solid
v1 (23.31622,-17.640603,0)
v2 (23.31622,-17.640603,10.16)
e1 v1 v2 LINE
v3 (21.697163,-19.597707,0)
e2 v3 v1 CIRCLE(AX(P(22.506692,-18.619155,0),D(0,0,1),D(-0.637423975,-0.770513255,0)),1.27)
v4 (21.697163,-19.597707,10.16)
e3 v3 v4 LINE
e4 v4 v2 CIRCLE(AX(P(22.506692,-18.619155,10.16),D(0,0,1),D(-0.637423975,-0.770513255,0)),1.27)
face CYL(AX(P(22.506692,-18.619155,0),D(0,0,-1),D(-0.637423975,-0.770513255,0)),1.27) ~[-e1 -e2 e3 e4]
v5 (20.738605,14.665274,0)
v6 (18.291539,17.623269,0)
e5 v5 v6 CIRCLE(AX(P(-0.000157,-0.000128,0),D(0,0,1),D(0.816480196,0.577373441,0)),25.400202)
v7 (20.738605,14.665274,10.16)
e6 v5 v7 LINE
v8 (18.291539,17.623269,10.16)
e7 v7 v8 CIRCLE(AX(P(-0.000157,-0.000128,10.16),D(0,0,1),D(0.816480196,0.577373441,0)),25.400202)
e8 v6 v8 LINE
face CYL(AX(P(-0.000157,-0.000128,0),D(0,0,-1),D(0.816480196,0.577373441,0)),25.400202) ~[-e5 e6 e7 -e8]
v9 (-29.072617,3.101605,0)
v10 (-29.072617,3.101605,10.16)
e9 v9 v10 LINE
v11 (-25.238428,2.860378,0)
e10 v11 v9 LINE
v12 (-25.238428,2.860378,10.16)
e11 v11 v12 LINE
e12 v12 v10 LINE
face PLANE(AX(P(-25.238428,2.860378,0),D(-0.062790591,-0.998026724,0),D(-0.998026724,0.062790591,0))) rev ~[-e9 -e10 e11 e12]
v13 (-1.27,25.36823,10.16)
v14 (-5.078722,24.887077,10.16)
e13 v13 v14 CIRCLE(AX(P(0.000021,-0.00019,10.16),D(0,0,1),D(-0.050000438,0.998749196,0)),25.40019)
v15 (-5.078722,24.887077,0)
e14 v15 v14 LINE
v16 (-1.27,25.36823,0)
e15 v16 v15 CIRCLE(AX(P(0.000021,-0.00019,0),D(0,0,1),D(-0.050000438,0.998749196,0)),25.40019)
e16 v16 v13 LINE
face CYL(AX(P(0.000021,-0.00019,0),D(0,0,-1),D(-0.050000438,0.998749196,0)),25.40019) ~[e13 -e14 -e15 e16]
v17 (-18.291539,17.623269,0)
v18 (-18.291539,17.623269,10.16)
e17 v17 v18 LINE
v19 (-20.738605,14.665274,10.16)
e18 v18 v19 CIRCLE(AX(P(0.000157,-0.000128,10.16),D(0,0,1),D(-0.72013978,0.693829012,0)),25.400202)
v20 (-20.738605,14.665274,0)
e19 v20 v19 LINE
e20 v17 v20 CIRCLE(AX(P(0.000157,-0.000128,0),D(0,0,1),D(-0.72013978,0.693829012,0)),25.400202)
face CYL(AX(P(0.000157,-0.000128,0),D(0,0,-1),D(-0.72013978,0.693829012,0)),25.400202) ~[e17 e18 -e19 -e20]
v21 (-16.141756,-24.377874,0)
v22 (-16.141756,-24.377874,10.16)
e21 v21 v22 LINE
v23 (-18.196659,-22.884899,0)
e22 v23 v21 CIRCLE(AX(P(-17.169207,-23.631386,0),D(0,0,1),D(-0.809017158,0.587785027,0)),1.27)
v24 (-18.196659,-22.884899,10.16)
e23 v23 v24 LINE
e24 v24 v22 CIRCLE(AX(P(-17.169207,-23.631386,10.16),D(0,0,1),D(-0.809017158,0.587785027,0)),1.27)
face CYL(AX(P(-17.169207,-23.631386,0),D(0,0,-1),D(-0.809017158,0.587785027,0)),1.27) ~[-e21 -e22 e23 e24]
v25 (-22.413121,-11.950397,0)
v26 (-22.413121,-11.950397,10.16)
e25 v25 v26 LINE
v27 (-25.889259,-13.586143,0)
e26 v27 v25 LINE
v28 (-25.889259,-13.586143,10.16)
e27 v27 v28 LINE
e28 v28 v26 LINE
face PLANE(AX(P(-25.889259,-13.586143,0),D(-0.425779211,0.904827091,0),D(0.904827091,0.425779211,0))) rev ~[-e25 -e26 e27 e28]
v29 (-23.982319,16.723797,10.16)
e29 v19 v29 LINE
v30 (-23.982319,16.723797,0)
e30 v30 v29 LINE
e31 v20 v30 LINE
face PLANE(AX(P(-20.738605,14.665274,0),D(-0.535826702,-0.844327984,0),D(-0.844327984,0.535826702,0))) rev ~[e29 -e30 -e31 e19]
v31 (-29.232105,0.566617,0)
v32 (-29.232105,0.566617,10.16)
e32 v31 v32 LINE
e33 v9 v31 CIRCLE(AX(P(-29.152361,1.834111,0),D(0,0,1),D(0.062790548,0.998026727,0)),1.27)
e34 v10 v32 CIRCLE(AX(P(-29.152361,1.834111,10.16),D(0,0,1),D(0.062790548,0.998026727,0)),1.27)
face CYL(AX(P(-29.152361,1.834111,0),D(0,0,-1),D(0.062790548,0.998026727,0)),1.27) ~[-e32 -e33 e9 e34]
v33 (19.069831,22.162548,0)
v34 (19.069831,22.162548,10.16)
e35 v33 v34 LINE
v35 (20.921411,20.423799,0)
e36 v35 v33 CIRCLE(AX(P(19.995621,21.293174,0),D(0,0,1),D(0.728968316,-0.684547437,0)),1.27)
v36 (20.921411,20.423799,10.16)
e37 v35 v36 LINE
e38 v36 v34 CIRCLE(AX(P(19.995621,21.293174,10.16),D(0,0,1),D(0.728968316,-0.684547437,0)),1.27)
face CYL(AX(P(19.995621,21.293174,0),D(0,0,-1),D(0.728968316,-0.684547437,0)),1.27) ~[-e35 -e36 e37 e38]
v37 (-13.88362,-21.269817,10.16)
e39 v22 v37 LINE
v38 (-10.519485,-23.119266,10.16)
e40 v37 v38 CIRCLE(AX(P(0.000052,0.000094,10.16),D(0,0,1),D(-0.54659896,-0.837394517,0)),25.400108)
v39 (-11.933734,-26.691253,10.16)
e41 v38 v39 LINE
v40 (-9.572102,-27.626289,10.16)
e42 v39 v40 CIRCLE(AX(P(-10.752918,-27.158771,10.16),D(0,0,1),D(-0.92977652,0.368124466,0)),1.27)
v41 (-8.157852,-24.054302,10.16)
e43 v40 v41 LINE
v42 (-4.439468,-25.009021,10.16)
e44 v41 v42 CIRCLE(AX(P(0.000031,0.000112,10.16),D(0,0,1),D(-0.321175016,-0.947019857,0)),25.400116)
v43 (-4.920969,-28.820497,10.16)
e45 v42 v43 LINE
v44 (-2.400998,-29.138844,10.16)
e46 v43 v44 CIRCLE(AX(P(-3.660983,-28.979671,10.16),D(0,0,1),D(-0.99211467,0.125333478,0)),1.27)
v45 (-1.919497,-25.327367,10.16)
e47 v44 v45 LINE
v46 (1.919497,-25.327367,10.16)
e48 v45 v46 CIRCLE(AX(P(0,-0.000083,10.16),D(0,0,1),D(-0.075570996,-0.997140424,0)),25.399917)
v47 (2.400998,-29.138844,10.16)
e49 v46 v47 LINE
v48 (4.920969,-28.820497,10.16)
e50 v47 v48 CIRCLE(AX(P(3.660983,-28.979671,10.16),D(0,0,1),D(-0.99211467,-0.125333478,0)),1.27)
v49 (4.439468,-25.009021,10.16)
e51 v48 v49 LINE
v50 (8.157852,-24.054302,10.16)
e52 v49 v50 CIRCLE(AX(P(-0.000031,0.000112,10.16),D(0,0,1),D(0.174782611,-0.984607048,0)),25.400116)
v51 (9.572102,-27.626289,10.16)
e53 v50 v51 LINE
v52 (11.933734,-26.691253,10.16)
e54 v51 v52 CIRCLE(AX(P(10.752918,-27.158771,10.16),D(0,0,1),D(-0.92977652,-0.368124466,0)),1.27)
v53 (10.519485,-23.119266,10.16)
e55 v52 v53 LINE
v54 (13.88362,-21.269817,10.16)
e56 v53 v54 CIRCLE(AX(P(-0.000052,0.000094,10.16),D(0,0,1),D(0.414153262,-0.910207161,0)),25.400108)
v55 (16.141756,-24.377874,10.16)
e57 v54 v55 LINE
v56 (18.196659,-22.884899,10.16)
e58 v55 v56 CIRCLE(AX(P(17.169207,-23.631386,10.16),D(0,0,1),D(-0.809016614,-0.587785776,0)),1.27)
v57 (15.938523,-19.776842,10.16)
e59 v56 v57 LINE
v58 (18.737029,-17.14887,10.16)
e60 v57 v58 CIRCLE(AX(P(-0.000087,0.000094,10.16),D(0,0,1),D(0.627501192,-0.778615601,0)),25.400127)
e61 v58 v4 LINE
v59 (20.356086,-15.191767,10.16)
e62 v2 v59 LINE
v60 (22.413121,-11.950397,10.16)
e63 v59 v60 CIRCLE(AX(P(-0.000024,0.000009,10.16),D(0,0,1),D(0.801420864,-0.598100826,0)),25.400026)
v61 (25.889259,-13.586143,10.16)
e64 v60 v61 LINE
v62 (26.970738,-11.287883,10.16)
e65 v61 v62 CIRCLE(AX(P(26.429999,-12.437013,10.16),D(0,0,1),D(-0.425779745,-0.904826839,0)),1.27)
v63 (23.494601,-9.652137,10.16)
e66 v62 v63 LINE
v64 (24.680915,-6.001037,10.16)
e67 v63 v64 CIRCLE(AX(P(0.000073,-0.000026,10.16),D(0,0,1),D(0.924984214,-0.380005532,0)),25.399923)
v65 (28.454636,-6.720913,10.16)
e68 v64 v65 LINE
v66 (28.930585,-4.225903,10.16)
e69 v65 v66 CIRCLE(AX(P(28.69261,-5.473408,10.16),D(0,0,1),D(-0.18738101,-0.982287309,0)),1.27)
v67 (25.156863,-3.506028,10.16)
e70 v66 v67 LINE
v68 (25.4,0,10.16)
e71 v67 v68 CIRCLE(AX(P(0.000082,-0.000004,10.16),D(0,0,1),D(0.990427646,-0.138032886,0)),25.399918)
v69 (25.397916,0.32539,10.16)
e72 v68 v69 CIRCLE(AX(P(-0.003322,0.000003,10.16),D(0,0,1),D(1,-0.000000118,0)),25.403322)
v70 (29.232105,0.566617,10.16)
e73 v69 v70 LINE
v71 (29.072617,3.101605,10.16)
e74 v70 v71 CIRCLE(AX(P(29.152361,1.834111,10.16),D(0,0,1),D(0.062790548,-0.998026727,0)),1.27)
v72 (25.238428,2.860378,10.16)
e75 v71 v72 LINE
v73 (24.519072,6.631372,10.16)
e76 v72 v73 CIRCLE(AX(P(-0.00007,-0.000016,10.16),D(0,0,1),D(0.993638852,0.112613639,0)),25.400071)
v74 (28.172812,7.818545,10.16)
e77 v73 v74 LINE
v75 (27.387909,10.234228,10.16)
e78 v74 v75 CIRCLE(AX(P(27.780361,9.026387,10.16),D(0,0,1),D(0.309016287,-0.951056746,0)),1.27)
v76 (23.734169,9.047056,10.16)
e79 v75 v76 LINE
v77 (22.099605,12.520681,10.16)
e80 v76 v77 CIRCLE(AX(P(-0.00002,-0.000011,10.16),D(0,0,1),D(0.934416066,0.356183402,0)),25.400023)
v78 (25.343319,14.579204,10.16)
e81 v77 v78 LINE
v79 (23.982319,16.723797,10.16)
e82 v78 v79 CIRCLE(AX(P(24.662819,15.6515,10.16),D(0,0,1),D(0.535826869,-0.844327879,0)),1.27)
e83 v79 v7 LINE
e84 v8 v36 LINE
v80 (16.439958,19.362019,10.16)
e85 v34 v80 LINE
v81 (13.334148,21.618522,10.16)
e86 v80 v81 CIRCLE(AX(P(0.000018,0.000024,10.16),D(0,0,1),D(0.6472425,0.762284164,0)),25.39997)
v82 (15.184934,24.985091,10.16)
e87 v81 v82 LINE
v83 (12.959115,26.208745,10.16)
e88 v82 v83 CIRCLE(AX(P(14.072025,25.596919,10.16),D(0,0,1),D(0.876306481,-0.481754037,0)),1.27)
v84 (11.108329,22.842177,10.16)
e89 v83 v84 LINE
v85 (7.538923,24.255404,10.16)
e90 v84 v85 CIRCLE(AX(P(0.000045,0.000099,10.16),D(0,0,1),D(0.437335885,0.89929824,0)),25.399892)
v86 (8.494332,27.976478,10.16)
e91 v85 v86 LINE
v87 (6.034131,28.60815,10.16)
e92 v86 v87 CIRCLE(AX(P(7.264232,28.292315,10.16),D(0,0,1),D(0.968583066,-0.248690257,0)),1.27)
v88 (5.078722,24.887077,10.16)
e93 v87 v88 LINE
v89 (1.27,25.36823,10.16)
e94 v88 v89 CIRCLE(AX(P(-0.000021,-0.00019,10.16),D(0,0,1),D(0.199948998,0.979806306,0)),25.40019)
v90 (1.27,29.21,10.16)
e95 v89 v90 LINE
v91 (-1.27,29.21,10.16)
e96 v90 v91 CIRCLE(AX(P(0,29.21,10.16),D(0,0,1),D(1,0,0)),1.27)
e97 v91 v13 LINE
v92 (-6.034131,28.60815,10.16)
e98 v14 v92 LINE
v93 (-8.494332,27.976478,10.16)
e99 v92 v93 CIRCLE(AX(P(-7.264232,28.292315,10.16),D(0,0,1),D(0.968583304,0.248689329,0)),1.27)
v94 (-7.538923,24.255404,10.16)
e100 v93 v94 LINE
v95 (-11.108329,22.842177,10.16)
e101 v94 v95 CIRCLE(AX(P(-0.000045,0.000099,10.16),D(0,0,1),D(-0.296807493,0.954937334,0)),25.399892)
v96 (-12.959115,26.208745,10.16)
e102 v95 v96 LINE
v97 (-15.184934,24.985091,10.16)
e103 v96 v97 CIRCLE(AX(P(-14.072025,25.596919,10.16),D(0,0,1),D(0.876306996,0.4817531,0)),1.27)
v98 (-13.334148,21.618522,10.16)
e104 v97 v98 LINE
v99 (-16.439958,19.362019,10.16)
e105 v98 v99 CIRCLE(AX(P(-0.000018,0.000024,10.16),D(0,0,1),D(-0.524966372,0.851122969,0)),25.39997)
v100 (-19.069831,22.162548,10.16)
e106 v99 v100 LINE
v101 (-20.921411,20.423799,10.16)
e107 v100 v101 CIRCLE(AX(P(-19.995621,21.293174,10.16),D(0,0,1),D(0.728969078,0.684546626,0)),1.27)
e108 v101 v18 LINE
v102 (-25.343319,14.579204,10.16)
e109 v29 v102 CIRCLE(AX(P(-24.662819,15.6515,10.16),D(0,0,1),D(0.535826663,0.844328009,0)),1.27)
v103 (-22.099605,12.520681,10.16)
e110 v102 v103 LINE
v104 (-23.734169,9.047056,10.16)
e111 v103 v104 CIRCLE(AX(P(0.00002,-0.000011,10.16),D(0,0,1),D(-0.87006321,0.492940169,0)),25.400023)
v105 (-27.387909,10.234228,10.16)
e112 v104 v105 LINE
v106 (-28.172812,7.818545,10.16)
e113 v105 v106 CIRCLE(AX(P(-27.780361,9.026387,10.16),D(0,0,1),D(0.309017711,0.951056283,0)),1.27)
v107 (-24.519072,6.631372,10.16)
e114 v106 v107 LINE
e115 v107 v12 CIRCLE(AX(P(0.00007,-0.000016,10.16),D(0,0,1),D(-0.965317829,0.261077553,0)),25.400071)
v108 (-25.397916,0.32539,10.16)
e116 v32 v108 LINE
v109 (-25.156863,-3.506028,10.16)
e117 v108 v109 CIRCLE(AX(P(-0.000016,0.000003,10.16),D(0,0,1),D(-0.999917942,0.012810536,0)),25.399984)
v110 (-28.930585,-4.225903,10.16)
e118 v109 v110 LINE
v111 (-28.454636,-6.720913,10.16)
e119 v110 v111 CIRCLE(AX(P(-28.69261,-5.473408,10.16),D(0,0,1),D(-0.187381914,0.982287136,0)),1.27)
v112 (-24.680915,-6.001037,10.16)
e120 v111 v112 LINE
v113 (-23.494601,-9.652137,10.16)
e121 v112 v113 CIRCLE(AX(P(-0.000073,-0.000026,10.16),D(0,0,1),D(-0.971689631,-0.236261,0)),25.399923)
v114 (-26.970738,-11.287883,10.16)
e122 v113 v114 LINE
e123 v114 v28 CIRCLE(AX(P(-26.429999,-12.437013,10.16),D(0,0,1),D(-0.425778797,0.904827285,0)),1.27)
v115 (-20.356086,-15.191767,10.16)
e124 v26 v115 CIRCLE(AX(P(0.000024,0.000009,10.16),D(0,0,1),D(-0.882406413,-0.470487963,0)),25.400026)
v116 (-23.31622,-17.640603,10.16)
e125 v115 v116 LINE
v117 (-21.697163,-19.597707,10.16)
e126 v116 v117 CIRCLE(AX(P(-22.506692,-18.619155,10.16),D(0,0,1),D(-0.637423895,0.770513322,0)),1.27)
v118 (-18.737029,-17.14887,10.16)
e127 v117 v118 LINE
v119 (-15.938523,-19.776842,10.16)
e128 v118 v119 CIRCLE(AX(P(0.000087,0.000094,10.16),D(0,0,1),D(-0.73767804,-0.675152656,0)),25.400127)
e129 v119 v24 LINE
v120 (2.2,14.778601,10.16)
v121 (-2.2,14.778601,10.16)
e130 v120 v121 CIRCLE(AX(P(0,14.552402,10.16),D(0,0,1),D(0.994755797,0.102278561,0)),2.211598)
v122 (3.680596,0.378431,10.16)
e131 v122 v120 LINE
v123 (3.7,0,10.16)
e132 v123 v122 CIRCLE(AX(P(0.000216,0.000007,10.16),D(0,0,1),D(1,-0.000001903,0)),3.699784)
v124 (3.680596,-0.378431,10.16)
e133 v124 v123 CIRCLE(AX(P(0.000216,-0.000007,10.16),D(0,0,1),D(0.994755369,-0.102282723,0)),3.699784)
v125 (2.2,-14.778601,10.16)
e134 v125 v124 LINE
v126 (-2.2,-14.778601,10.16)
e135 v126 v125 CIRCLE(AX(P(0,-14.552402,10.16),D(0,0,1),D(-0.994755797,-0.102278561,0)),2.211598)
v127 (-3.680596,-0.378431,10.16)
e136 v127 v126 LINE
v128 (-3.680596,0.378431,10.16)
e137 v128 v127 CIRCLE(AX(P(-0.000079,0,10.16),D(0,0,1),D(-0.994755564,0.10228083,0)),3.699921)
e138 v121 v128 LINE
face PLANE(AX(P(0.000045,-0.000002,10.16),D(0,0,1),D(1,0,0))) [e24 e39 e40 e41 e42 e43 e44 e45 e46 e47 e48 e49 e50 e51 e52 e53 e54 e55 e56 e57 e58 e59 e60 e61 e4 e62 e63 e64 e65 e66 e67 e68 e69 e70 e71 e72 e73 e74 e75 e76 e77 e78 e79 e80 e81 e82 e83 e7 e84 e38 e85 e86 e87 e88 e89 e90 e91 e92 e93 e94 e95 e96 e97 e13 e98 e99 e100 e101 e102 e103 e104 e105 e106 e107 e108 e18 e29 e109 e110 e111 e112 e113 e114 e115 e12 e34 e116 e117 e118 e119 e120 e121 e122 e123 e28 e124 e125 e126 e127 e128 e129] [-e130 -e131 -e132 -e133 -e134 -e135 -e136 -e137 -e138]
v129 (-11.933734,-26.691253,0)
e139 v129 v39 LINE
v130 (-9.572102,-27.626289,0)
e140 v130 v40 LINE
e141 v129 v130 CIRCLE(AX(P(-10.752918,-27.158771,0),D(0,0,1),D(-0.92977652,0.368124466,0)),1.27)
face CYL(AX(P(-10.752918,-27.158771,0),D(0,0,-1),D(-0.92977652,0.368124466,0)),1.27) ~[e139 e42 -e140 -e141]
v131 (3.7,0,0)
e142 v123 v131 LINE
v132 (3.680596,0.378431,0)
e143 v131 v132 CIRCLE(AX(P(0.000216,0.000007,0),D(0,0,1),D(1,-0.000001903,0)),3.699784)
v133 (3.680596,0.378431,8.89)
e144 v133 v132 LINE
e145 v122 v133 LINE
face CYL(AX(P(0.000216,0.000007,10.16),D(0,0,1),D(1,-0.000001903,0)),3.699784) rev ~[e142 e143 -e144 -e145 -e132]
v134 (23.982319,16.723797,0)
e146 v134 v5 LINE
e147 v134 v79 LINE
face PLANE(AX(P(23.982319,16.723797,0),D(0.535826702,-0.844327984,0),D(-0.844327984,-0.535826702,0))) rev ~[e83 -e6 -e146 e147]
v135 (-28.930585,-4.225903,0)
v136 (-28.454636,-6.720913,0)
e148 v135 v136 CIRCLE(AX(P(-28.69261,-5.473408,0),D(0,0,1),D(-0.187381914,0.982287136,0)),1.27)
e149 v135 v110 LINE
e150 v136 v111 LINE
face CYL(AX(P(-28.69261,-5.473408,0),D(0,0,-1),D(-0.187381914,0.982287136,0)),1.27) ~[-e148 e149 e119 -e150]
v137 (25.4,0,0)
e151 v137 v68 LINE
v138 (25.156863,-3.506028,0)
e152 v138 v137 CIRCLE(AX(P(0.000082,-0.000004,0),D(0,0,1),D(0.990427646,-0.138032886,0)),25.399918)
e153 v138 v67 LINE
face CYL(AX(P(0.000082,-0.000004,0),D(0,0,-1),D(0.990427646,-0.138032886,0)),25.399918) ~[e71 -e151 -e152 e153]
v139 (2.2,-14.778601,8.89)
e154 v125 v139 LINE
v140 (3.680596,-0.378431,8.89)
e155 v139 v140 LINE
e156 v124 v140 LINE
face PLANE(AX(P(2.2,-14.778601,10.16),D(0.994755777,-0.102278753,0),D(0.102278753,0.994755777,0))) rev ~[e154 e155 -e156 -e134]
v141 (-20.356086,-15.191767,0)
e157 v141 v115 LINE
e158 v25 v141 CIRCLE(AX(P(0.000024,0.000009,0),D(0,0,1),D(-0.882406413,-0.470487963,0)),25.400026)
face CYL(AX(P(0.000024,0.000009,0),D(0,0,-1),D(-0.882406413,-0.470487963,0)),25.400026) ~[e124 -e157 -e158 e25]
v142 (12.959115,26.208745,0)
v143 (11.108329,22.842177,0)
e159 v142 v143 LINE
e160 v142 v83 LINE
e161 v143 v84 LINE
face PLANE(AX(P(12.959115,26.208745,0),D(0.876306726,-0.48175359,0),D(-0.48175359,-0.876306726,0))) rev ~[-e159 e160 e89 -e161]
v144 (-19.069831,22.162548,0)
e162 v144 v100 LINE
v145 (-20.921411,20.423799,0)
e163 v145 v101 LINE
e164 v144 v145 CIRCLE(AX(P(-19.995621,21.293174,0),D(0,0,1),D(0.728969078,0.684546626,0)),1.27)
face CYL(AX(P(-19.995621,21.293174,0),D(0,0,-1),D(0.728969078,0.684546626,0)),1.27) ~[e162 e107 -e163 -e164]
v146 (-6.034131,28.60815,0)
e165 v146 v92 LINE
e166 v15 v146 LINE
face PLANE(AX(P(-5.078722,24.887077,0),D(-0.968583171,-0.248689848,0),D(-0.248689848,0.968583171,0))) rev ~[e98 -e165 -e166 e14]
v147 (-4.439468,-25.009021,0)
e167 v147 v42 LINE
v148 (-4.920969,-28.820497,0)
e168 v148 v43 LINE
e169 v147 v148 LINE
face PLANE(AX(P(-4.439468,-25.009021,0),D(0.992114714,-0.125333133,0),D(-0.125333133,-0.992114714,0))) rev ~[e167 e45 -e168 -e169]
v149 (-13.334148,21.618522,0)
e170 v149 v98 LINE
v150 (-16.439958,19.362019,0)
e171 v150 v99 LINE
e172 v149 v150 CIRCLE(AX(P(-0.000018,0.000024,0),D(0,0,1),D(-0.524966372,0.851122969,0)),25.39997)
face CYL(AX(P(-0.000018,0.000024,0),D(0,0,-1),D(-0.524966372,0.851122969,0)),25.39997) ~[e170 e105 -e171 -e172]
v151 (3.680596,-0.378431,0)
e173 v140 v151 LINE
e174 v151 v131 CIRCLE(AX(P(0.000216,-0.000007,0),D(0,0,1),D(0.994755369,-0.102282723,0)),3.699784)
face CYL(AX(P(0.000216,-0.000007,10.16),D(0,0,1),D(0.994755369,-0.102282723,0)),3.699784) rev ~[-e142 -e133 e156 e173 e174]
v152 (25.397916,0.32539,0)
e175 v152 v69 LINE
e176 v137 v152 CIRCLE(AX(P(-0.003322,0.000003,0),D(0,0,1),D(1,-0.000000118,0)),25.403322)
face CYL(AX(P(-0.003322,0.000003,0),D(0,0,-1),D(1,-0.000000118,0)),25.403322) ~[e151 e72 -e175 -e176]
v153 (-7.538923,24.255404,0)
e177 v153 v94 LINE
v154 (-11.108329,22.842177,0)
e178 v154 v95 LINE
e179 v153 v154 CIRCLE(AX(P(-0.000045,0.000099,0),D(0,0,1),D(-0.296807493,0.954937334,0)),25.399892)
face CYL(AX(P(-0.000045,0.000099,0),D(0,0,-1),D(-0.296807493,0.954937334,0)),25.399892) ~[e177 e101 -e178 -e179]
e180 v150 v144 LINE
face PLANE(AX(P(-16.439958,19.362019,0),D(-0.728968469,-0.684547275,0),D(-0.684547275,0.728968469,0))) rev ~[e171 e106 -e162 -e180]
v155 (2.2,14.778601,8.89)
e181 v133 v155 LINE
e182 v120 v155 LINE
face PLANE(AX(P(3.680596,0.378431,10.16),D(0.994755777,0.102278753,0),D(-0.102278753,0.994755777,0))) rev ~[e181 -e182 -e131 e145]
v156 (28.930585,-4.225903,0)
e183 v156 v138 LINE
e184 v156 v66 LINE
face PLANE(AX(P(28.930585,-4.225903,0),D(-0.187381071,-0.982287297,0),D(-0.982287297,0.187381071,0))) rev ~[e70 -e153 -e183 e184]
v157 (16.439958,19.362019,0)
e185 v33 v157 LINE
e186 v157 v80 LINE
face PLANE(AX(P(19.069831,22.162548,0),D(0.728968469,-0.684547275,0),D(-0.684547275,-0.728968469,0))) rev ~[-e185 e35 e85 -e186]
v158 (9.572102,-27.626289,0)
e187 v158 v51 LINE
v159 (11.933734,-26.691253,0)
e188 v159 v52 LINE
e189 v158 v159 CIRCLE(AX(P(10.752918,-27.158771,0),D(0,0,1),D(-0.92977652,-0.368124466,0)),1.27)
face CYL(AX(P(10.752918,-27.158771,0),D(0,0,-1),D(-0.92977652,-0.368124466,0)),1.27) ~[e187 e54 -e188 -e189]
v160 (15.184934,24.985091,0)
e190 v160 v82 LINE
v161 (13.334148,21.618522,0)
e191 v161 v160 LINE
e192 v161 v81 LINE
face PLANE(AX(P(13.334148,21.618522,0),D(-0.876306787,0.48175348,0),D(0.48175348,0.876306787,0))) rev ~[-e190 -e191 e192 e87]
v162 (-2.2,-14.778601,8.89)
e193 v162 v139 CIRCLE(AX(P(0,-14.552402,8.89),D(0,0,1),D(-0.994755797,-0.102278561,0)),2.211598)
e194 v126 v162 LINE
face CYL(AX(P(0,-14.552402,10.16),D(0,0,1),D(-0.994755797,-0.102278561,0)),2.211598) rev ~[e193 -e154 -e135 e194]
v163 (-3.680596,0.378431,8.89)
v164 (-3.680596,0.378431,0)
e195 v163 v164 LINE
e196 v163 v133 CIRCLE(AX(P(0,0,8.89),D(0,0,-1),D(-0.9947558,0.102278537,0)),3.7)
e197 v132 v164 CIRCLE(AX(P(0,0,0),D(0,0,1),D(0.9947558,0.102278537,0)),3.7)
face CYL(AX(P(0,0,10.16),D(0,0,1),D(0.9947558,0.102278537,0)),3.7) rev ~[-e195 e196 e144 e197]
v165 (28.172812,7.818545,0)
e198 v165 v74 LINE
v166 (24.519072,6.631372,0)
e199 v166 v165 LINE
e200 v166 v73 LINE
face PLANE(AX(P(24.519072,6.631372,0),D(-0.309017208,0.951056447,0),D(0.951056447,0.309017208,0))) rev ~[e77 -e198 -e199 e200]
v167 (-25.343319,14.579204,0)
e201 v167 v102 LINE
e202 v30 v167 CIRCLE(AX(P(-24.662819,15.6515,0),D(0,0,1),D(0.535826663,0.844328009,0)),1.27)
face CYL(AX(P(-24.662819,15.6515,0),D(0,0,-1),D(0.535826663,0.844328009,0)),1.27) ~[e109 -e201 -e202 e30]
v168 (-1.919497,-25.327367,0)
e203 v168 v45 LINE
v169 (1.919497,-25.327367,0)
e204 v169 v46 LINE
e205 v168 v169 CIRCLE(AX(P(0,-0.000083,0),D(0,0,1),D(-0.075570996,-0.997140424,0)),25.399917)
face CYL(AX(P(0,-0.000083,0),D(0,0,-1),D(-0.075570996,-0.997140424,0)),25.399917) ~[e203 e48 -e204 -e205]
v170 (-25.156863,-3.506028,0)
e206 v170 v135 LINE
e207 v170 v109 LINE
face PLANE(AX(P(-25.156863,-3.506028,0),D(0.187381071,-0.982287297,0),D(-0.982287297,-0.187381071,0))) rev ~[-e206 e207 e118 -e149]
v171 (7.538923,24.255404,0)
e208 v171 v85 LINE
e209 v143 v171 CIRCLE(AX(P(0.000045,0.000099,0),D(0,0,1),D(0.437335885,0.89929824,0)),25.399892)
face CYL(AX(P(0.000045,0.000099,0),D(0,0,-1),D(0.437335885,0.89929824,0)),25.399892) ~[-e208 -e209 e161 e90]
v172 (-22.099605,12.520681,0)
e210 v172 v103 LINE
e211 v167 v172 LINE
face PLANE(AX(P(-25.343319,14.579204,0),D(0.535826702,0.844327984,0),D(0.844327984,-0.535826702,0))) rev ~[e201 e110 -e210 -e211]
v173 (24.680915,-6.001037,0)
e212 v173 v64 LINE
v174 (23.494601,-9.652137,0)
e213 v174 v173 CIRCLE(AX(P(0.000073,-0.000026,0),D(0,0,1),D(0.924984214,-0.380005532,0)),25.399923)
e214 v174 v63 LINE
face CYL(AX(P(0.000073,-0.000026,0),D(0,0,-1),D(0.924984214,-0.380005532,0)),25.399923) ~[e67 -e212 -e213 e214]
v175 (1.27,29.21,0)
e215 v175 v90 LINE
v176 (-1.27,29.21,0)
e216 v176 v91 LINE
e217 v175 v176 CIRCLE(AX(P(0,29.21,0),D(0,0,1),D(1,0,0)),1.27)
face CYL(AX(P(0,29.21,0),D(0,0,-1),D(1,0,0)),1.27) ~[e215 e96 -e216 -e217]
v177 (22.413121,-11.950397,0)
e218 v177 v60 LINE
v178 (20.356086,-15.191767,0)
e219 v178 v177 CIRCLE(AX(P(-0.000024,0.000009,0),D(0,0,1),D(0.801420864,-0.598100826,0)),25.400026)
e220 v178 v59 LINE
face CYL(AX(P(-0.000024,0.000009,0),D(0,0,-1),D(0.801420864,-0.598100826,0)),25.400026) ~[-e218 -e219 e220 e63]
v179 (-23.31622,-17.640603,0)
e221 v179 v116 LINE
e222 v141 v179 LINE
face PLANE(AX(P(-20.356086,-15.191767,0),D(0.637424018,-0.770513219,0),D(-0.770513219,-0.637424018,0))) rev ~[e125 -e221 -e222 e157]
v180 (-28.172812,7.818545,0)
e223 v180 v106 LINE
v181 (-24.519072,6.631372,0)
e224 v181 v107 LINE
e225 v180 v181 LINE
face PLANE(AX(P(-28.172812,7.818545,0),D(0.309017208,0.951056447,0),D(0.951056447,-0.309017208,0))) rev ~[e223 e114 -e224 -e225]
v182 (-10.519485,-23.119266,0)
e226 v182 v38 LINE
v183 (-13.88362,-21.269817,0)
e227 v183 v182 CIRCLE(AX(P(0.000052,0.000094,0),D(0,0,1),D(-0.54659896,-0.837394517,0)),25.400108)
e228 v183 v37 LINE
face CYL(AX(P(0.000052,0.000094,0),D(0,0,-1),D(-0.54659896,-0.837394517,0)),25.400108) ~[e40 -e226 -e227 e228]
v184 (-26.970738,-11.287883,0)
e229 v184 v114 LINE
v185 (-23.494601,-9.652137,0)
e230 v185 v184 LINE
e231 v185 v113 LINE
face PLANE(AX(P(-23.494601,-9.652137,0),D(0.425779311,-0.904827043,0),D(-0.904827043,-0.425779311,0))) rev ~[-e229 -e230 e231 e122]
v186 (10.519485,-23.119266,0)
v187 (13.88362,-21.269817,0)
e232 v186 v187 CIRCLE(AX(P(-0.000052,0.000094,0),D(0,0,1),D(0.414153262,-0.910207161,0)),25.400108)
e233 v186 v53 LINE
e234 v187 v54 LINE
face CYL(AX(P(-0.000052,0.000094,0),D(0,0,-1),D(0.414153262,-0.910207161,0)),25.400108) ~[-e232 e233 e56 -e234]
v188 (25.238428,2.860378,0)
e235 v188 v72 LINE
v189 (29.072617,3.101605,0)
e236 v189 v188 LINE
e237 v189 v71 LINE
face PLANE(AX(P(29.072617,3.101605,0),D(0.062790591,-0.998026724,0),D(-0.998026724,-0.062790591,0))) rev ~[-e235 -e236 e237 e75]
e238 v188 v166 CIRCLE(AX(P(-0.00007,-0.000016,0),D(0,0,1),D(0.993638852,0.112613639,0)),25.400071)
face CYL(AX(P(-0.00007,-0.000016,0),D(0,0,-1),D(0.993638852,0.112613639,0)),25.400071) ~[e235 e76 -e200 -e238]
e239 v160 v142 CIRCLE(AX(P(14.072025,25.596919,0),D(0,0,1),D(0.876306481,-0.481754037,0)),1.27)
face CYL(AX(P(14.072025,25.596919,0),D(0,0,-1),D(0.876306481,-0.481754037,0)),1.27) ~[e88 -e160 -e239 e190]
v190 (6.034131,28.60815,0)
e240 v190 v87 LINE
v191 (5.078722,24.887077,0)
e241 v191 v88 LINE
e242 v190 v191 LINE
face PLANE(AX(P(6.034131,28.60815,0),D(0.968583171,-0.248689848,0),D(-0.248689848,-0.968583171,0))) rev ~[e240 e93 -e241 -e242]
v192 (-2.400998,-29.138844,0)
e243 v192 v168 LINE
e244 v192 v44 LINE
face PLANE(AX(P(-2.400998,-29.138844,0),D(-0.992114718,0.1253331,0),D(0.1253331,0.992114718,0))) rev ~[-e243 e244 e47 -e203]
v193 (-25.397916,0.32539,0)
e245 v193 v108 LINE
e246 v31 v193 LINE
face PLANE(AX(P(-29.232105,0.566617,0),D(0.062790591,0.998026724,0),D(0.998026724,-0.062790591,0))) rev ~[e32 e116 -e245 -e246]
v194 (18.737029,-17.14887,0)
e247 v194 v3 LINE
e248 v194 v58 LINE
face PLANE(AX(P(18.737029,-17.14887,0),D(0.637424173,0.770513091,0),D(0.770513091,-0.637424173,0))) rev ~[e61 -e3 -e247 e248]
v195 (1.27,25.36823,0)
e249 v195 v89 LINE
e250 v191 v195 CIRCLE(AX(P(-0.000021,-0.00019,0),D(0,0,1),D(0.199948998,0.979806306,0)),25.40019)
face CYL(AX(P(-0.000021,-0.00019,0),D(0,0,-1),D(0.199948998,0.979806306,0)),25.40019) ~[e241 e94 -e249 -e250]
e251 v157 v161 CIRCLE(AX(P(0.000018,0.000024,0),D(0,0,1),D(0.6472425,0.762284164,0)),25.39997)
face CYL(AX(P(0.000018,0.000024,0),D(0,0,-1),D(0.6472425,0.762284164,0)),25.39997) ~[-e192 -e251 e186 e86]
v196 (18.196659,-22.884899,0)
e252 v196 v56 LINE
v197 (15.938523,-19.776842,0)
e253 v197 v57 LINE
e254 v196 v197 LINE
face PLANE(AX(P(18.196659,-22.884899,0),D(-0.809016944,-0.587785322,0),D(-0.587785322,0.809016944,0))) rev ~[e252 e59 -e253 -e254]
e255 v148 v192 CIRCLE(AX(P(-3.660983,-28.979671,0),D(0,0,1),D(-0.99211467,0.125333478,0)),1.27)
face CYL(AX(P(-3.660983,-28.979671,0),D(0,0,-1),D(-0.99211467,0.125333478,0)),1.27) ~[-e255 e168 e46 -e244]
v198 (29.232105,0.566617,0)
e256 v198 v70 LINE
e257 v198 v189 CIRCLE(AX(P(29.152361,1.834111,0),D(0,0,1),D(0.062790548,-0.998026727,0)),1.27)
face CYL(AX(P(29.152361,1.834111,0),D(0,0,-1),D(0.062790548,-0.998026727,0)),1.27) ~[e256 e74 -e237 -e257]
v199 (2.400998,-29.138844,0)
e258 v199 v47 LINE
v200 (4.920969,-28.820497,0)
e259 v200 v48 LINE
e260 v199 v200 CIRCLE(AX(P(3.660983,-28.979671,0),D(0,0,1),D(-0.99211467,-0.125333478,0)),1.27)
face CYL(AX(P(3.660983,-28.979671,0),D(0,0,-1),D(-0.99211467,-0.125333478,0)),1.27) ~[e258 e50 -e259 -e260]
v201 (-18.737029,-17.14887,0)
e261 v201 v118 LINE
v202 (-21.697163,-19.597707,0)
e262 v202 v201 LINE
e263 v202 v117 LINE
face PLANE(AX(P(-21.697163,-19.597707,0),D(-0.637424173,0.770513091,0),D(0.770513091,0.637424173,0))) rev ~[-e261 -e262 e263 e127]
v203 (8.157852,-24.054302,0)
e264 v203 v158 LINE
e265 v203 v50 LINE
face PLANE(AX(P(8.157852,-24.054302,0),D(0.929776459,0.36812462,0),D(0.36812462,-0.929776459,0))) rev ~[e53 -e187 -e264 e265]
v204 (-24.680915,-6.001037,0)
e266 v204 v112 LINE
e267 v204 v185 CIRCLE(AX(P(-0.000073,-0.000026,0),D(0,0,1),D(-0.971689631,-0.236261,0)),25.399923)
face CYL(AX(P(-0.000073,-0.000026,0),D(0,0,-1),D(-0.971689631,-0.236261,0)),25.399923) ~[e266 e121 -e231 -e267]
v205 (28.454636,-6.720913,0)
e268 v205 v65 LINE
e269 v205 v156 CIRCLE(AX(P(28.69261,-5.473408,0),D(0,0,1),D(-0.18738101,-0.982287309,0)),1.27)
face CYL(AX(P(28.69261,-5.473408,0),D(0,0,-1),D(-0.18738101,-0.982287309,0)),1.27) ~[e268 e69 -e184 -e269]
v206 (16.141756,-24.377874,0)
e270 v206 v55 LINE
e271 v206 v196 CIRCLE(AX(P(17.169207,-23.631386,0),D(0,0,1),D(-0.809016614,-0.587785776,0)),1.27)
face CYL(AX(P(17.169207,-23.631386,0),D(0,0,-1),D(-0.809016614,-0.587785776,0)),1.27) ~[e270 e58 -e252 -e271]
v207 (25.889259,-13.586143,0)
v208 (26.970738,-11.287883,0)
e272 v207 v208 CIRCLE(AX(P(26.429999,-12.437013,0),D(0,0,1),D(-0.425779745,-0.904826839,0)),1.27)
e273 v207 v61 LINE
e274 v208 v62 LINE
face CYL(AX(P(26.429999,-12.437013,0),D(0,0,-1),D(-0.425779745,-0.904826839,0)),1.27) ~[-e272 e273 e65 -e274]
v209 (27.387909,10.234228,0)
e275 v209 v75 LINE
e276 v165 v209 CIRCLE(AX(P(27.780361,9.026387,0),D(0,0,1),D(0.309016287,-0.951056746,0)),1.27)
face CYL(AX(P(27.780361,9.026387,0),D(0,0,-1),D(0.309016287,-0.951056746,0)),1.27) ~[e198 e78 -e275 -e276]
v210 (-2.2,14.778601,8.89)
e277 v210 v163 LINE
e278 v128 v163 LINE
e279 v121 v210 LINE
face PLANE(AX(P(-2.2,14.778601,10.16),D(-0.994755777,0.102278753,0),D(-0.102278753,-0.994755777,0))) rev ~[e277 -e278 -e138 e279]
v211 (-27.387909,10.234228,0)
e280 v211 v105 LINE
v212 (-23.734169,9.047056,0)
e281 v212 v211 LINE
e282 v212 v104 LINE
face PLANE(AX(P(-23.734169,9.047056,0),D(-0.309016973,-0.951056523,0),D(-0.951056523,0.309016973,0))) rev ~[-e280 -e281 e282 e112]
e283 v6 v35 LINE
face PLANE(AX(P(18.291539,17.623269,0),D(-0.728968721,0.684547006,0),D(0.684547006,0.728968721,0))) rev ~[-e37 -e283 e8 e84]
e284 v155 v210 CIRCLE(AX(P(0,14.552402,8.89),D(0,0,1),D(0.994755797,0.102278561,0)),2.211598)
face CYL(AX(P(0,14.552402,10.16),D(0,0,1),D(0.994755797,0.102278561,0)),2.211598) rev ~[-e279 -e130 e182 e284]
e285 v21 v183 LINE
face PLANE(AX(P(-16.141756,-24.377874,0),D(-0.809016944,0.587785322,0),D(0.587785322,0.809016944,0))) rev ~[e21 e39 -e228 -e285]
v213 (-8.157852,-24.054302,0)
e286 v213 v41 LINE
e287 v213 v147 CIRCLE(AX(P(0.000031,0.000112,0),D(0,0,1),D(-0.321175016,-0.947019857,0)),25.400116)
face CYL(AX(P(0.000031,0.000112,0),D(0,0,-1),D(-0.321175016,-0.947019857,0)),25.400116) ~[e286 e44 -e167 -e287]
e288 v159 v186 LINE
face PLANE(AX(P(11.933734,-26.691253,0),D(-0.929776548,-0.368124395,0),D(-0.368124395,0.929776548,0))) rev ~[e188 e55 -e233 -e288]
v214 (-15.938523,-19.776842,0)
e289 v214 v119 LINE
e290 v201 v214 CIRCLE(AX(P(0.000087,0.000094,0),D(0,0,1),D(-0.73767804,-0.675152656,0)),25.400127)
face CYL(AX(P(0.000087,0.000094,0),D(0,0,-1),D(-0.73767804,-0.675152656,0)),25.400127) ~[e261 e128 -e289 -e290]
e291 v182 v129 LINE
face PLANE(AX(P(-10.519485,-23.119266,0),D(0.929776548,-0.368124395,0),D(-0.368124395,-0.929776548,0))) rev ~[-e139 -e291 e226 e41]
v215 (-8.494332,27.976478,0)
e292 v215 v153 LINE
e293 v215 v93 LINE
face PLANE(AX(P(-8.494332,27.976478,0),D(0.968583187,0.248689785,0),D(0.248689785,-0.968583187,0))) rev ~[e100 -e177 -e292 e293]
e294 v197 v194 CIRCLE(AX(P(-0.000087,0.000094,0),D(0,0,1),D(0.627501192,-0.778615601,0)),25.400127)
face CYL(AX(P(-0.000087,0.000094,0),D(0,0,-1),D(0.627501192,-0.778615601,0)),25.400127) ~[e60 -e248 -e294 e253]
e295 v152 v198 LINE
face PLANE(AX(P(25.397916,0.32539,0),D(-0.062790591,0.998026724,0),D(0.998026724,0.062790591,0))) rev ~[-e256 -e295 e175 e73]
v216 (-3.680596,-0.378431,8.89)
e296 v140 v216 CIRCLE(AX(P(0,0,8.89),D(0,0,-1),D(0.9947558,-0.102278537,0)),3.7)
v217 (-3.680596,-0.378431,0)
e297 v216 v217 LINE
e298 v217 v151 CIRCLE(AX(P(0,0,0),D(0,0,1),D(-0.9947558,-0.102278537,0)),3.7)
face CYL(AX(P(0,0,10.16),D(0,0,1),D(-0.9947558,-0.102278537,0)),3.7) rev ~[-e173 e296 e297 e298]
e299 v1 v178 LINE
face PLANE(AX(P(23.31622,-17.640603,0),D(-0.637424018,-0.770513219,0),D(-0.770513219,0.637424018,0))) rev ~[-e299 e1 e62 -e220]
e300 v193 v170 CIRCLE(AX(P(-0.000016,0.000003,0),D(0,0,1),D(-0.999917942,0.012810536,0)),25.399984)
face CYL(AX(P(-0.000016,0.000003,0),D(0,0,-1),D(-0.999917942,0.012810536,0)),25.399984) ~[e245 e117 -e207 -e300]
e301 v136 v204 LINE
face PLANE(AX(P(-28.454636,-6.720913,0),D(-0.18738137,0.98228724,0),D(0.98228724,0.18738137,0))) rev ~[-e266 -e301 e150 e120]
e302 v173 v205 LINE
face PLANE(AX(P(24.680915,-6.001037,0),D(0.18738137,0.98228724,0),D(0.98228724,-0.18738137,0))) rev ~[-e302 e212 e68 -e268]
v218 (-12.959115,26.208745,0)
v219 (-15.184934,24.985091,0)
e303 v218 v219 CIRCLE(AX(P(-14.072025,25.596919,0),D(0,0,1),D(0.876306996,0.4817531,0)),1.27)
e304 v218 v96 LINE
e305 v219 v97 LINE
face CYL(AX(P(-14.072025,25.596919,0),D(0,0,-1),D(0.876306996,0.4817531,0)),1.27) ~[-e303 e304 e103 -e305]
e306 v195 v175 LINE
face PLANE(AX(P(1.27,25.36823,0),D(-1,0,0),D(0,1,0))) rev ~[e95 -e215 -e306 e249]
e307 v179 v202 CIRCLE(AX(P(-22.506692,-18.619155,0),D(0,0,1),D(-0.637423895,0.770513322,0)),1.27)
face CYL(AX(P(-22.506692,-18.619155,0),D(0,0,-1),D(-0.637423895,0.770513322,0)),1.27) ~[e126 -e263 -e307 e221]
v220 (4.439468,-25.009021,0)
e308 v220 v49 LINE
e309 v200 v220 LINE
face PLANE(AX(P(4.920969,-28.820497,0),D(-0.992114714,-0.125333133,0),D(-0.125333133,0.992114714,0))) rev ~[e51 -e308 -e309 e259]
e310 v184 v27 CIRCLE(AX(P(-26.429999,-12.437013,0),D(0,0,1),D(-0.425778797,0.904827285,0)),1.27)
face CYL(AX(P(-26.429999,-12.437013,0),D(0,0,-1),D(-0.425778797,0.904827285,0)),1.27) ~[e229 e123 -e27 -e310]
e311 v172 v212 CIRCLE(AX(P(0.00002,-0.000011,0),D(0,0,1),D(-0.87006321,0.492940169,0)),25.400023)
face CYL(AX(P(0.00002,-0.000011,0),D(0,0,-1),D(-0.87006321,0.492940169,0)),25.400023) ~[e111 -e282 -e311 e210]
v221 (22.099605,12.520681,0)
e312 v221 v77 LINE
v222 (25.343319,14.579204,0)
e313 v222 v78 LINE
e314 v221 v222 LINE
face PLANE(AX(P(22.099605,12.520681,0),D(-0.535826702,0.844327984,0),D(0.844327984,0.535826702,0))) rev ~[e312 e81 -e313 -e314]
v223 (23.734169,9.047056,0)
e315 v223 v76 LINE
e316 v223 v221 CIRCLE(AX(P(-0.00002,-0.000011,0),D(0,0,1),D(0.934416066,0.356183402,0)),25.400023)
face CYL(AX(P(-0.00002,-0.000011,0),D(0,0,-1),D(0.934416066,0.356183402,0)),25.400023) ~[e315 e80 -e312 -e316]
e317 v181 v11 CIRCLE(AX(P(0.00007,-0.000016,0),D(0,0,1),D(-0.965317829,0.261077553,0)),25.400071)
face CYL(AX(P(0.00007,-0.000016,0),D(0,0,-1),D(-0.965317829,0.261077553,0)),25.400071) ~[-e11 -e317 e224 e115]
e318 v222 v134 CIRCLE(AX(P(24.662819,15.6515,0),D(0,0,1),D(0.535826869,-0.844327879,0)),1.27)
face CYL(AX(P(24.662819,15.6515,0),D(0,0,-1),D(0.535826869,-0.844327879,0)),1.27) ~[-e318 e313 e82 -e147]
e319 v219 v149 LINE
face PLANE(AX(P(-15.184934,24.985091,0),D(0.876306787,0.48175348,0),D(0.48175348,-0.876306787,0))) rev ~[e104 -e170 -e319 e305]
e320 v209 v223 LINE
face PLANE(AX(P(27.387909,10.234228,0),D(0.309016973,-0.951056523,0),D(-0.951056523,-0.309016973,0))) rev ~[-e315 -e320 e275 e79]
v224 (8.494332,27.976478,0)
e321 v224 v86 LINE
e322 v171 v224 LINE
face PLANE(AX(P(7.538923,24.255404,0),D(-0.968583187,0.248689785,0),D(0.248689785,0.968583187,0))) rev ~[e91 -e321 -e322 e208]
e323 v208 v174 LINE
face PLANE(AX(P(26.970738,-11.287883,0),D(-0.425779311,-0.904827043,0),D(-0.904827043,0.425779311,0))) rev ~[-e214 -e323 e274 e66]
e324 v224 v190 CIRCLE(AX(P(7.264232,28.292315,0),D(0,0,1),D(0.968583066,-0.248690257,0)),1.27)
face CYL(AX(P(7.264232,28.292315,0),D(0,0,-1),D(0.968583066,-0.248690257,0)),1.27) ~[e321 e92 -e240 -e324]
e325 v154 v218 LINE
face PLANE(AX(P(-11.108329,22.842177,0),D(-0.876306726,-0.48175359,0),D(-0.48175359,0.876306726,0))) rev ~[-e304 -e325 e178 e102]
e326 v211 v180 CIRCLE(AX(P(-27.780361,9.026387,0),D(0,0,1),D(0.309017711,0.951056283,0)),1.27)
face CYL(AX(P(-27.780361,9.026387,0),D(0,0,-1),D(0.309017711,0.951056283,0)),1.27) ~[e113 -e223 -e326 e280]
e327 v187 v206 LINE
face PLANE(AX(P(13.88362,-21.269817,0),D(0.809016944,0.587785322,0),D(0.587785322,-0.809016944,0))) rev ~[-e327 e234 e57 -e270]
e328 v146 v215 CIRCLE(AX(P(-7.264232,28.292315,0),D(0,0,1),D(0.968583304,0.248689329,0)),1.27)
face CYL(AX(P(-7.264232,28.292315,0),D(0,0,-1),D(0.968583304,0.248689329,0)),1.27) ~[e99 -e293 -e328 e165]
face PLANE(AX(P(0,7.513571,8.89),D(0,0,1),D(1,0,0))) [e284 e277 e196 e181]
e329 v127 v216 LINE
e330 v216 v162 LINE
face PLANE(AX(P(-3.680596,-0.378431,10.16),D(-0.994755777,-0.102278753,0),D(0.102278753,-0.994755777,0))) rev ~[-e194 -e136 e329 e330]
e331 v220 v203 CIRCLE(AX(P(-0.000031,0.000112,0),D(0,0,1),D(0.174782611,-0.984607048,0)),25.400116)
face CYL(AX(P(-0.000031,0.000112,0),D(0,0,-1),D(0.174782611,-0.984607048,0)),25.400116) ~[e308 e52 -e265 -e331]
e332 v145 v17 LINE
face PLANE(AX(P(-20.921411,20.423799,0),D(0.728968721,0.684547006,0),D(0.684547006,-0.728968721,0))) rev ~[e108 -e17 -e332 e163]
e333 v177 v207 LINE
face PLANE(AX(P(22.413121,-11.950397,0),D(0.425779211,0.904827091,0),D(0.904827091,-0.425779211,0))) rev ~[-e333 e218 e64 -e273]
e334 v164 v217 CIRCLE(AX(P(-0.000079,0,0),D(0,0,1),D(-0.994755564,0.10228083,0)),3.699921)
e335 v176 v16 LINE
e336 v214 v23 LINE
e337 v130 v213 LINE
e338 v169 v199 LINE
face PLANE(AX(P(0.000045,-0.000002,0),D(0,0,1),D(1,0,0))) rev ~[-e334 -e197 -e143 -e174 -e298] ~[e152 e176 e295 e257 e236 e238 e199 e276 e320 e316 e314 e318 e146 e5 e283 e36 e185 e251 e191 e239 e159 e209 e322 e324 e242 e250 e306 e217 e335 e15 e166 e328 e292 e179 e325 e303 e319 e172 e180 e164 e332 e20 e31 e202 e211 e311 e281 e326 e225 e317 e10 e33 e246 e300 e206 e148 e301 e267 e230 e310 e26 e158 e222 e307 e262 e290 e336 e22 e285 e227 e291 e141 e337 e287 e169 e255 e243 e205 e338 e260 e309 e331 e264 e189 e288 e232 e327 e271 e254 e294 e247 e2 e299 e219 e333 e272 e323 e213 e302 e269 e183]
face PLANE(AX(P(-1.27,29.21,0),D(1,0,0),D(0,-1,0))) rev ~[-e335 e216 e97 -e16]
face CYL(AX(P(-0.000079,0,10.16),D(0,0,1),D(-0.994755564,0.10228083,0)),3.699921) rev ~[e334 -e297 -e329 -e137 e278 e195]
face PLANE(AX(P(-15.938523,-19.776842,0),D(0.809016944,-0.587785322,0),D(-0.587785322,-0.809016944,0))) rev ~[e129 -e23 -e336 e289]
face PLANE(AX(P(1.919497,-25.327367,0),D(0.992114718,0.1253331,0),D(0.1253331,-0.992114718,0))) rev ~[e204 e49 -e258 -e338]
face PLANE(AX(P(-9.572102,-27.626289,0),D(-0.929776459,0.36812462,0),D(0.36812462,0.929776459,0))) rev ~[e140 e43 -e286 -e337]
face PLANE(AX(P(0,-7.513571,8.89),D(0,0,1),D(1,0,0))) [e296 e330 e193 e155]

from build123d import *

# Parameters (mm, degrees)
F1_DEPTH = 10.16
F3_DEPTH = 1.27
F4_DEPTH = 25.4


with BuildPart() as f1:
    # F0 (on Top) → F1 (new body)
    with BuildSketch(Plane.XY):
        with BuildLine():
            ThreePointArc((25.156863, -3.506028), (25.339143, -1.757224), (25.4, 0))
            ThreePointArc((25.4, 0), (25.399479, 0.162699), (25.397916, 0.32539))
            ThreePointArc((25.397916, 0.32539), (25.349879, 1.594879), (25.238428, 2.860378))
            ThreePointArc((25.238428, 2.860378), (24.950096, 4.759485), (24.519072, 6.631372))
            ThreePointArc((24.519072, 6.631372), (24.156836, 7.849032), (23.734169, 9.047056))
            ThreePointArc((23.734169, 9.047056), (22.982607, 10.814794), (22.099605, 12.520681))
            ThreePointArc((22.099605, 12.520681), (21.445929, 13.610001), (20.738605, 14.665274))
            ThreePointArc((20.738605, 14.665274), (19.571036, 16.190569), (18.291539, 17.623269))
            ThreePointArc((18.291539, 17.623269), (17.387496, 18.515803), (16.439958, 19.362019))
            ThreePointArc((16.439958, 19.362019), (14.929745, 20.549032), (13.334148, 21.618522))
            ThreePointArc((13.334148, 21.618522), (12.236543, 22.25819), (11.108329, 22.842177))
            ThreePointArc((11.108329, 22.842177), (9.350364, 23.616323), (7.538923, 24.255404))
            ThreePointArc((7.538923, 24.255404), (6.316723, 24.602012), (5.078722, 24.887077))
            ThreePointArc((5.078722, 24.887077), (3.183464, 25.199713), (1.27, 25.36823))
            ThreePointArc((1.27, 25.36823), (0, 25.4), (-1.27, 25.36823))
            ThreePointArc((-1.27, 25.36823), (-3.183464, 25.199713), (-5.078722, 24.887077))
            ThreePointArc((-5.078722, 24.887077), (-6.316723, 24.602012), (-7.538923, 24.255404))
            ThreePointArc((-7.538923, 24.255404), (-9.350364, 23.616323), (-11.108329, 22.842177))
            ThreePointArc((-11.108329, 22.842177), (-12.236543, 22.25819), (-13.334148, 21.618522))
            ThreePointArc((-13.334148, 21.618522), (-14.929745, 20.549032), (-16.439958, 19.362019))
            ThreePointArc((-16.439958, 19.362019), (-17.387496, 18.515803), (-18.291539, 17.623269))
            ThreePointArc((-18.291539, 17.623269), (-19.571036, 16.190569), (-20.738605, 14.665274))
            ThreePointArc((-20.738605, 14.665274), (-21.445929, 13.610001), (-22.099605, 12.520681))
            ThreePointArc((-22.099605, 12.520681), (-22.982607, 10.814794), (-23.734169, 9.047056))
            ThreePointArc((-23.734169, 9.047056), (-24.156836, 7.849032), (-24.519072, 6.631372))
            ThreePointArc((-24.519072, 6.631372), (-24.950096, 4.759485), (-25.238428, 2.860378))
            ThreePointArc((-25.238428, 2.860378), (-25.349879, 1.594879), (-25.397916, 0.32539))
            ThreePointArc((-25.397916, 0.32539), (-25.349879, -1.594879), (-25.156863, -3.506028))
            ThreePointArc((-25.156863, -3.506028), (-24.950096, -4.759485), (-24.680915, -6.001037))
            ThreePointArc((-24.680915, -6.001037), (-24.156836, -7.849032), (-23.494601, -9.652137))
            ThreePointArc((-23.494601, -9.652137), (-22.982607, -10.814794), (-22.413121, -11.950397))
            ThreePointArc((-22.413121, -11.950397), (-21.445929, -13.610001), (-20.356086, -15.191767))
            ThreePointArc((-20.356086, -15.191767), (-19.571036, -16.190569), (-18.737029, -17.14887))
            ThreePointArc((-18.737029, -17.14887), (-17.387496, -18.515803), (-15.938523, -19.776842))
            ThreePointArc((-15.938523, -19.776842), (-14.929745, -20.549032), (-13.88362, -21.269817))
            ThreePointArc((-13.88362, -21.269817), (-12.236543, -22.25819), (-10.519485, -23.119266))
            ThreePointArc((-10.519485, -23.119266), (-9.350364, -23.616323), (-8.157852, -24.054302))
            ThreePointArc((-8.157852, -24.054302), (-6.316723, -24.602012), (-4.439468, -25.009021))
            ThreePointArc((-4.439468, -25.009021), (-3.183464, -25.199713), (-1.919497, -25.327367))
            ThreePointArc((-1.919497, -25.327367), (0, -25.4), (1.919497, -25.327367))
            ThreePointArc((1.919497, -25.327367), (3.183464, -25.199713), (4.439468, -25.009021))
            ThreePointArc((4.439468, -25.009021), (6.316723, -24.602012), (8.157852, -24.054302))
            ThreePointArc((8.157852, -24.054302), (9.350364, -23.616323), (10.519485, -23.119266))
            ThreePointArc((10.519485, -23.119266), (12.236543, -22.25819), (13.88362, -21.269817))
            ThreePointArc((13.88362, -21.269817), (14.929745, -20.549032), (15.938523, -19.776842))
            ThreePointArc((15.938523, -19.776842), (17.387496, -18.515803), (18.737029, -17.14887))
            ThreePointArc((18.737029, -17.14887), (19.571036, -16.190569), (20.356086, -15.191767))
            ThreePointArc((20.356086, -15.191767), (21.445929, -13.610001), (22.413121, -11.950397))
            ThreePointArc((22.413121, -11.950397), (22.982607, -10.814794), (23.494601, -9.652137))
            ThreePointArc((23.494601, -9.652137), (24.156836, -7.849032), (24.680915, -6.001037))
            ThreePointArc((24.680915, -6.001037), (24.950096, -4.759485), (25.156863, -3.506028))
        make_face()
        with BuildLine():
            ThreePointArc((25.238428, 2.860378), (25.349879, 1.594879), (25.397916, 0.32539))
            Line((25.397916, 0.32539), (29.232105, 0.566617))
            ThreePointArc((29.232105, 0.566617), (30.419855, 1.913855), (29.072617, 3.101605))
            Line((29.072617, 3.101605), (25.238428, 2.860378))
        make_face()
        with BuildLine():
            Line((28.930585, -4.225903), (25.156863, -3.506028))
            ThreePointArc((25.156863, -3.506028), (24.950096, -4.759485), (24.680915, -6.001037))
            Line((24.680915, -6.001037), (28.454636, -6.720913))
            ThreePointArc((28.454636, -6.720913), (29.940115, -5.711382), (28.930585, -4.225903))
        make_face()
        with BuildLine():
            ThreePointArc((23.734169, 9.047056), (24.156836, 7.849032), (24.519072, 6.631372))
            Line((24.519072, 6.631372), (28.172812, 7.818545))
            ThreePointArc((28.172812, 7.818545), (28.988203, 9.418838), (27.387909, 10.234228))
            Line((27.387909, 10.234228), (23.734169, 9.047056))
        make_face()
        with BuildLine():
            Line((26.970738, -11.287883), (23.494601, -9.652137))
            ThreePointArc((23.494601, -9.652137), (22.982607, -10.814794), (22.413121, -11.950397))
            Line((22.413121, -11.950397), (25.889259, -13.586143))
            ThreePointArc((25.889259, -13.586143), (27.579129, -12.977753), (26.970738, -11.287883))
        make_face()
        with BuildLine():
            ThreePointArc((20.738605, 14.665274), (21.445929, 13.610001), (22.099605, 12.520681))
            Line((22.099605, 12.520681), (25.343319, 14.579204))
            ThreePointArc((25.343319, 14.579204), (25.735115, 16.332001), (23.982319, 16.723797))
            Line((23.982319, 16.723797), (20.738605, 14.665274))
        make_face()
        with BuildLine():
            Line((23.31622, -17.640603), (20.356086, -15.191767))
            ThreePointArc((20.356086, -15.191767), (19.571036, -16.190569), (18.737029, -17.14887))
            Line((18.737029, -17.14887), (21.697163, -19.597707))
            ThreePointArc((21.697163, -19.597707), (23.485244, -19.428683), (23.31622, -17.640603))
        make_face()
        with BuildLine():
            ThreePointArc((16.439958, 19.362019), (17.387496, 18.515803), (18.291539, 17.623269))
            Line((18.291539, 17.623269), (20.921411, 20.423799))
            ThreePointArc((20.921411, 20.423799), (20.864996, 22.218964), (19.069831, 22.162548))
            Line((19.069831, 22.162548), (16.439958, 19.362019))
        make_face()
        with BuildLine():
            Line((18.196659, -22.884899), (15.938523, -19.776842))
            ThreePointArc((15.938523, -19.776842), (14.929745, -20.549032), (13.88362, -21.269817))
            Line((13.88362, -21.269817), (16.141756, -24.377874))
            ThreePointArc((16.141756, -24.377874), (17.915694, -24.658838), (18.196659, -22.884899))
        make_face()
        with BuildLine():
            ThreePointArc((11.108329, 22.842177), (12.236543, 22.25819), (13.334148, 21.618522))
            Line((13.334148, 21.618522), (15.184934, 24.985091))
            ThreePointArc((15.184934, 24.985091), (14.683852, 26.709828), (12.959115, 26.208745))
            Line((12.959115, 26.208745), (11.108329, 22.842177))
        make_face()
        with BuildLine():
            Line((11.933734, -26.691253), (10.519485, -23.119266))
            ThreePointArc((10.519485, -23.119266), (9.350364, -23.616323), (8.157852, -24.054302))
            Line((8.157852, -24.054302), (9.572102, -27.626289))
            ThreePointArc((9.572102, -27.626289), (11.220436, -28.339587), (11.933734, -26.691253))
        make_face()
        with BuildLine():
            ThreePointArc((5.078722, 24.887077), (6.316723, 24.602012), (7.538923, 24.255404))
            Line((7.538923, 24.255404), (8.494332, 27.976478))
            ThreePointArc((8.494332, 27.976478), (7.580068, 29.522415), (6.034131, 28.60815))
            Line((6.034131, 28.60815), (5.078722, 24.887077))
        make_face()
        with BuildLine():
            Line((4.920969, -28.820497), (4.439468, -25.009021))
            ThreePointArc((4.439468, -25.009021), (3.183464, -25.199713), (1.919497, -25.327367))
            Line((1.919497, -25.327367), (2.400998, -29.138844))
            ThreePointArc((2.400998, -29.138844), (3.820157, -30.239656), (4.920969, -28.820497))
        make_face()
        with BuildLine():
            ThreePointArc((-1.27, 25.36823), (0, 25.4), (1.27, 25.36823))
            Line((1.27, 25.36823), (1.27, 29.21))
            ThreePointArc((1.27, 29.21), (0, 30.48), (-1.27, 29.21))
            Line((-1.27, 29.21), (-1.27, 25.36823))
        make_face()
        with BuildLine():
            Line((-2.400998, -29.138844), (-1.919497, -25.327367))
            ThreePointArc((-1.919497, -25.327367), (-3.183464, -25.199713), (-4.439468, -25.009021))
            Line((-4.439468, -25.009021), (-4.920969, -28.820497))
            ThreePointArc((-4.920969, -28.820497), (-3.820157, -30.239656), (-2.400998, -29.138844))
        make_face()
        with BuildLine():
            ThreePointArc((-7.538923, 24.255404), (-6.316723, 24.602012), (-5.078722, 24.887077))
            Line((-5.078722, 24.887077), (-6.034131, 28.60815))
            ThreePointArc((-6.034131, 28.60815), (-7.580068, 29.522415), (-8.494332, 27.976478))
            Line((-8.494332, 27.976478), (-7.538923, 24.255404))
        make_face()
        with BuildLine():
            Line((-9.572102, -27.626289), (-8.157852, -24.054302))
            ThreePointArc((-8.157852, -24.054302), (-9.350364, -23.616323), (-10.519485, -23.119266))
            Line((-10.519485, -23.119266), (-11.933734, -26.691253))
            ThreePointArc((-11.933734, -26.691253), (-11.220436, -28.339587), (-9.572102, -27.626289))
        make_face()
        with BuildLine():
            ThreePointArc((-13.334148, 21.618522), (-12.236543, 22.25819), (-11.108329, 22.842177))
            Line((-11.108329, 22.842177), (-12.959115, 26.208745))
            ThreePointArc((-12.959115, 26.208745), (-14.683852, 26.709828), (-15.184934, 24.985091))
            Line((-15.184934, 24.985091), (-13.334148, 21.618522))
        make_face()
        with BuildLine():
            Line((-16.141756, -24.377874), (-13.88362, -21.269817))
            ThreePointArc((-13.88362, -21.269817), (-14.929745, -20.549032), (-15.938523, -19.776842))
            Line((-15.938523, -19.776842), (-18.196659, -22.884899))
            ThreePointArc((-18.196659, -22.884899), (-17.915694, -24.658838), (-16.141756, -24.377874))
        make_face()
        with BuildLine():
            ThreePointArc((-18.291539, 17.623269), (-17.387496, 18.515803), (-16.439958, 19.362019))
            Line((-16.439958, 19.362019), (-19.069831, 22.162548))
            ThreePointArc((-19.069831, 22.162548), (-20.864996, 22.218964), (-20.921411, 20.423799))
            Line((-20.921411, 20.423799), (-18.291539, 17.623269))
        make_face()
        with BuildLine():
            Line((-21.697163, -19.597707), (-18.737029, -17.14887))
            ThreePointArc((-18.737029, -17.14887), (-19.571036, -16.190569), (-20.356086, -15.191767))
            Line((-20.356086, -15.191767), (-23.31622, -17.640603))
            ThreePointArc((-23.31622, -17.640603), (-23.485244, -19.428683), (-21.697163, -19.597707))
        make_face()
        with BuildLine():
            ThreePointArc((-22.099605, 12.520681), (-21.445929, 13.610001), (-20.738605, 14.665274))
            Line((-20.738605, 14.665274), (-23.982319, 16.723797))
            ThreePointArc((-23.982319, 16.723797), (-25.735115, 16.332001), (-25.343319, 14.579204))
            Line((-25.343319, 14.579204), (-22.099605, 12.520681))
        make_face()
        with BuildLine():
            Line((-25.889259, -13.586143), (-22.413121, -11.950397))
            ThreePointArc((-22.413121, -11.950397), (-22.982607, -10.814794), (-23.494601, -9.652137))
            Line((-23.494601, -9.652137), (-26.970738, -11.287883))
            ThreePointArc((-26.970738, -11.287883), (-27.579129, -12.977753), (-25.889259, -13.586143))
        make_face()
        with BuildLine():
            ThreePointArc((-24.519072, 6.631372), (-24.156836, 7.849032), (-23.734169, 9.047056))
            Line((-23.734169, 9.047056), (-27.387909, 10.234228))
            ThreePointArc((-27.387909, 10.234228), (-28.988203, 9.418838), (-28.172812, 7.818545))
            Line((-28.172812, 7.818545), (-24.519072, 6.631372))
        make_face()
        with BuildLine():
            Line((-28.454636, -6.720913), (-24.680915, -6.001037))
            ThreePointArc((-24.680915, -6.001037), (-24.950096, -4.759485), (-25.156863, -3.506028))
            Line((-25.156863, -3.506028), (-28.930585, -4.225903))
            ThreePointArc((-28.930585, -4.225903), (-29.940115, -5.711382), (-28.454636, -6.720913))
        make_face()
        with BuildLine():
            ThreePointArc((-25.397916, 0.32539), (-25.349879, 1.594879), (-25.238428, 2.860378))
            Line((-25.238428, 2.860378), (-29.072617, 3.101605))
            ThreePointArc((-29.072617, 3.101605), (-30.419855, 1.913855), (-29.232105, 0.566617))
            Line((-29.232105, 0.566617), (-25.397916, 0.32539))
        make_face()
    extrude(amount=F1_DEPTH)

    # F2 (on face) → F3 (cut)
    with BuildSketch(Plane.XY.offset(10.16)):
        with BuildLine():
            Line((-2.2, 14.778601), (-3.680596, 0.378431))
            ThreePointArc((-3.680596, 0.378431), (0, 3.7), (3.680596, 0.378431))
            Line((3.680596, 0.378431), (2.2, 14.778601))
            ThreePointArc((2.2, 14.778601), (0, 16.764), (-2.2, 14.778601))
        make_face()
        with BuildLine():
            Line((2.2, -14.778601), (3.680596, -0.378431))
            ThreePointArc((3.680596, -0.378431), (0, -3.7), (-3.680596, -0.378431))
            Line((-3.680596, -0.378431), (-2.2, -14.778601))
            ThreePointArc((-2.2, -14.778601), (0, -16.764), (2.2, -14.778601))
        make_face()
    extrude(amount=-F3_DEPTH, mode=Mode.SUBTRACT)

    # F2 (on face) → F4 (cut)
    with BuildSketch(Plane.XY.offset(10.16)):
        with BuildLine():
            ThreePointArc((-3.680596, -0.378431), (0, -3.7), (3.680596, -0.378431))
            ThreePointArc((3.680596, -0.378431), (3.695146, -0.189464), (3.7, 0))
            ThreePointArc((3.7, 0), (3.695146, 0.189464), (3.680596, 0.378431))
            ThreePointArc((3.680596, 0.378431), (0, 3.7), (-3.680596, 0.378431))
            ThreePointArc((-3.680596, 0.378431), (-3.7, 0), (-3.680596, -0.378431))
        make_face()
    extrude(amount=-F4_DEPTH, mode=Mode.SUBTRACT)


solid = f1.part
